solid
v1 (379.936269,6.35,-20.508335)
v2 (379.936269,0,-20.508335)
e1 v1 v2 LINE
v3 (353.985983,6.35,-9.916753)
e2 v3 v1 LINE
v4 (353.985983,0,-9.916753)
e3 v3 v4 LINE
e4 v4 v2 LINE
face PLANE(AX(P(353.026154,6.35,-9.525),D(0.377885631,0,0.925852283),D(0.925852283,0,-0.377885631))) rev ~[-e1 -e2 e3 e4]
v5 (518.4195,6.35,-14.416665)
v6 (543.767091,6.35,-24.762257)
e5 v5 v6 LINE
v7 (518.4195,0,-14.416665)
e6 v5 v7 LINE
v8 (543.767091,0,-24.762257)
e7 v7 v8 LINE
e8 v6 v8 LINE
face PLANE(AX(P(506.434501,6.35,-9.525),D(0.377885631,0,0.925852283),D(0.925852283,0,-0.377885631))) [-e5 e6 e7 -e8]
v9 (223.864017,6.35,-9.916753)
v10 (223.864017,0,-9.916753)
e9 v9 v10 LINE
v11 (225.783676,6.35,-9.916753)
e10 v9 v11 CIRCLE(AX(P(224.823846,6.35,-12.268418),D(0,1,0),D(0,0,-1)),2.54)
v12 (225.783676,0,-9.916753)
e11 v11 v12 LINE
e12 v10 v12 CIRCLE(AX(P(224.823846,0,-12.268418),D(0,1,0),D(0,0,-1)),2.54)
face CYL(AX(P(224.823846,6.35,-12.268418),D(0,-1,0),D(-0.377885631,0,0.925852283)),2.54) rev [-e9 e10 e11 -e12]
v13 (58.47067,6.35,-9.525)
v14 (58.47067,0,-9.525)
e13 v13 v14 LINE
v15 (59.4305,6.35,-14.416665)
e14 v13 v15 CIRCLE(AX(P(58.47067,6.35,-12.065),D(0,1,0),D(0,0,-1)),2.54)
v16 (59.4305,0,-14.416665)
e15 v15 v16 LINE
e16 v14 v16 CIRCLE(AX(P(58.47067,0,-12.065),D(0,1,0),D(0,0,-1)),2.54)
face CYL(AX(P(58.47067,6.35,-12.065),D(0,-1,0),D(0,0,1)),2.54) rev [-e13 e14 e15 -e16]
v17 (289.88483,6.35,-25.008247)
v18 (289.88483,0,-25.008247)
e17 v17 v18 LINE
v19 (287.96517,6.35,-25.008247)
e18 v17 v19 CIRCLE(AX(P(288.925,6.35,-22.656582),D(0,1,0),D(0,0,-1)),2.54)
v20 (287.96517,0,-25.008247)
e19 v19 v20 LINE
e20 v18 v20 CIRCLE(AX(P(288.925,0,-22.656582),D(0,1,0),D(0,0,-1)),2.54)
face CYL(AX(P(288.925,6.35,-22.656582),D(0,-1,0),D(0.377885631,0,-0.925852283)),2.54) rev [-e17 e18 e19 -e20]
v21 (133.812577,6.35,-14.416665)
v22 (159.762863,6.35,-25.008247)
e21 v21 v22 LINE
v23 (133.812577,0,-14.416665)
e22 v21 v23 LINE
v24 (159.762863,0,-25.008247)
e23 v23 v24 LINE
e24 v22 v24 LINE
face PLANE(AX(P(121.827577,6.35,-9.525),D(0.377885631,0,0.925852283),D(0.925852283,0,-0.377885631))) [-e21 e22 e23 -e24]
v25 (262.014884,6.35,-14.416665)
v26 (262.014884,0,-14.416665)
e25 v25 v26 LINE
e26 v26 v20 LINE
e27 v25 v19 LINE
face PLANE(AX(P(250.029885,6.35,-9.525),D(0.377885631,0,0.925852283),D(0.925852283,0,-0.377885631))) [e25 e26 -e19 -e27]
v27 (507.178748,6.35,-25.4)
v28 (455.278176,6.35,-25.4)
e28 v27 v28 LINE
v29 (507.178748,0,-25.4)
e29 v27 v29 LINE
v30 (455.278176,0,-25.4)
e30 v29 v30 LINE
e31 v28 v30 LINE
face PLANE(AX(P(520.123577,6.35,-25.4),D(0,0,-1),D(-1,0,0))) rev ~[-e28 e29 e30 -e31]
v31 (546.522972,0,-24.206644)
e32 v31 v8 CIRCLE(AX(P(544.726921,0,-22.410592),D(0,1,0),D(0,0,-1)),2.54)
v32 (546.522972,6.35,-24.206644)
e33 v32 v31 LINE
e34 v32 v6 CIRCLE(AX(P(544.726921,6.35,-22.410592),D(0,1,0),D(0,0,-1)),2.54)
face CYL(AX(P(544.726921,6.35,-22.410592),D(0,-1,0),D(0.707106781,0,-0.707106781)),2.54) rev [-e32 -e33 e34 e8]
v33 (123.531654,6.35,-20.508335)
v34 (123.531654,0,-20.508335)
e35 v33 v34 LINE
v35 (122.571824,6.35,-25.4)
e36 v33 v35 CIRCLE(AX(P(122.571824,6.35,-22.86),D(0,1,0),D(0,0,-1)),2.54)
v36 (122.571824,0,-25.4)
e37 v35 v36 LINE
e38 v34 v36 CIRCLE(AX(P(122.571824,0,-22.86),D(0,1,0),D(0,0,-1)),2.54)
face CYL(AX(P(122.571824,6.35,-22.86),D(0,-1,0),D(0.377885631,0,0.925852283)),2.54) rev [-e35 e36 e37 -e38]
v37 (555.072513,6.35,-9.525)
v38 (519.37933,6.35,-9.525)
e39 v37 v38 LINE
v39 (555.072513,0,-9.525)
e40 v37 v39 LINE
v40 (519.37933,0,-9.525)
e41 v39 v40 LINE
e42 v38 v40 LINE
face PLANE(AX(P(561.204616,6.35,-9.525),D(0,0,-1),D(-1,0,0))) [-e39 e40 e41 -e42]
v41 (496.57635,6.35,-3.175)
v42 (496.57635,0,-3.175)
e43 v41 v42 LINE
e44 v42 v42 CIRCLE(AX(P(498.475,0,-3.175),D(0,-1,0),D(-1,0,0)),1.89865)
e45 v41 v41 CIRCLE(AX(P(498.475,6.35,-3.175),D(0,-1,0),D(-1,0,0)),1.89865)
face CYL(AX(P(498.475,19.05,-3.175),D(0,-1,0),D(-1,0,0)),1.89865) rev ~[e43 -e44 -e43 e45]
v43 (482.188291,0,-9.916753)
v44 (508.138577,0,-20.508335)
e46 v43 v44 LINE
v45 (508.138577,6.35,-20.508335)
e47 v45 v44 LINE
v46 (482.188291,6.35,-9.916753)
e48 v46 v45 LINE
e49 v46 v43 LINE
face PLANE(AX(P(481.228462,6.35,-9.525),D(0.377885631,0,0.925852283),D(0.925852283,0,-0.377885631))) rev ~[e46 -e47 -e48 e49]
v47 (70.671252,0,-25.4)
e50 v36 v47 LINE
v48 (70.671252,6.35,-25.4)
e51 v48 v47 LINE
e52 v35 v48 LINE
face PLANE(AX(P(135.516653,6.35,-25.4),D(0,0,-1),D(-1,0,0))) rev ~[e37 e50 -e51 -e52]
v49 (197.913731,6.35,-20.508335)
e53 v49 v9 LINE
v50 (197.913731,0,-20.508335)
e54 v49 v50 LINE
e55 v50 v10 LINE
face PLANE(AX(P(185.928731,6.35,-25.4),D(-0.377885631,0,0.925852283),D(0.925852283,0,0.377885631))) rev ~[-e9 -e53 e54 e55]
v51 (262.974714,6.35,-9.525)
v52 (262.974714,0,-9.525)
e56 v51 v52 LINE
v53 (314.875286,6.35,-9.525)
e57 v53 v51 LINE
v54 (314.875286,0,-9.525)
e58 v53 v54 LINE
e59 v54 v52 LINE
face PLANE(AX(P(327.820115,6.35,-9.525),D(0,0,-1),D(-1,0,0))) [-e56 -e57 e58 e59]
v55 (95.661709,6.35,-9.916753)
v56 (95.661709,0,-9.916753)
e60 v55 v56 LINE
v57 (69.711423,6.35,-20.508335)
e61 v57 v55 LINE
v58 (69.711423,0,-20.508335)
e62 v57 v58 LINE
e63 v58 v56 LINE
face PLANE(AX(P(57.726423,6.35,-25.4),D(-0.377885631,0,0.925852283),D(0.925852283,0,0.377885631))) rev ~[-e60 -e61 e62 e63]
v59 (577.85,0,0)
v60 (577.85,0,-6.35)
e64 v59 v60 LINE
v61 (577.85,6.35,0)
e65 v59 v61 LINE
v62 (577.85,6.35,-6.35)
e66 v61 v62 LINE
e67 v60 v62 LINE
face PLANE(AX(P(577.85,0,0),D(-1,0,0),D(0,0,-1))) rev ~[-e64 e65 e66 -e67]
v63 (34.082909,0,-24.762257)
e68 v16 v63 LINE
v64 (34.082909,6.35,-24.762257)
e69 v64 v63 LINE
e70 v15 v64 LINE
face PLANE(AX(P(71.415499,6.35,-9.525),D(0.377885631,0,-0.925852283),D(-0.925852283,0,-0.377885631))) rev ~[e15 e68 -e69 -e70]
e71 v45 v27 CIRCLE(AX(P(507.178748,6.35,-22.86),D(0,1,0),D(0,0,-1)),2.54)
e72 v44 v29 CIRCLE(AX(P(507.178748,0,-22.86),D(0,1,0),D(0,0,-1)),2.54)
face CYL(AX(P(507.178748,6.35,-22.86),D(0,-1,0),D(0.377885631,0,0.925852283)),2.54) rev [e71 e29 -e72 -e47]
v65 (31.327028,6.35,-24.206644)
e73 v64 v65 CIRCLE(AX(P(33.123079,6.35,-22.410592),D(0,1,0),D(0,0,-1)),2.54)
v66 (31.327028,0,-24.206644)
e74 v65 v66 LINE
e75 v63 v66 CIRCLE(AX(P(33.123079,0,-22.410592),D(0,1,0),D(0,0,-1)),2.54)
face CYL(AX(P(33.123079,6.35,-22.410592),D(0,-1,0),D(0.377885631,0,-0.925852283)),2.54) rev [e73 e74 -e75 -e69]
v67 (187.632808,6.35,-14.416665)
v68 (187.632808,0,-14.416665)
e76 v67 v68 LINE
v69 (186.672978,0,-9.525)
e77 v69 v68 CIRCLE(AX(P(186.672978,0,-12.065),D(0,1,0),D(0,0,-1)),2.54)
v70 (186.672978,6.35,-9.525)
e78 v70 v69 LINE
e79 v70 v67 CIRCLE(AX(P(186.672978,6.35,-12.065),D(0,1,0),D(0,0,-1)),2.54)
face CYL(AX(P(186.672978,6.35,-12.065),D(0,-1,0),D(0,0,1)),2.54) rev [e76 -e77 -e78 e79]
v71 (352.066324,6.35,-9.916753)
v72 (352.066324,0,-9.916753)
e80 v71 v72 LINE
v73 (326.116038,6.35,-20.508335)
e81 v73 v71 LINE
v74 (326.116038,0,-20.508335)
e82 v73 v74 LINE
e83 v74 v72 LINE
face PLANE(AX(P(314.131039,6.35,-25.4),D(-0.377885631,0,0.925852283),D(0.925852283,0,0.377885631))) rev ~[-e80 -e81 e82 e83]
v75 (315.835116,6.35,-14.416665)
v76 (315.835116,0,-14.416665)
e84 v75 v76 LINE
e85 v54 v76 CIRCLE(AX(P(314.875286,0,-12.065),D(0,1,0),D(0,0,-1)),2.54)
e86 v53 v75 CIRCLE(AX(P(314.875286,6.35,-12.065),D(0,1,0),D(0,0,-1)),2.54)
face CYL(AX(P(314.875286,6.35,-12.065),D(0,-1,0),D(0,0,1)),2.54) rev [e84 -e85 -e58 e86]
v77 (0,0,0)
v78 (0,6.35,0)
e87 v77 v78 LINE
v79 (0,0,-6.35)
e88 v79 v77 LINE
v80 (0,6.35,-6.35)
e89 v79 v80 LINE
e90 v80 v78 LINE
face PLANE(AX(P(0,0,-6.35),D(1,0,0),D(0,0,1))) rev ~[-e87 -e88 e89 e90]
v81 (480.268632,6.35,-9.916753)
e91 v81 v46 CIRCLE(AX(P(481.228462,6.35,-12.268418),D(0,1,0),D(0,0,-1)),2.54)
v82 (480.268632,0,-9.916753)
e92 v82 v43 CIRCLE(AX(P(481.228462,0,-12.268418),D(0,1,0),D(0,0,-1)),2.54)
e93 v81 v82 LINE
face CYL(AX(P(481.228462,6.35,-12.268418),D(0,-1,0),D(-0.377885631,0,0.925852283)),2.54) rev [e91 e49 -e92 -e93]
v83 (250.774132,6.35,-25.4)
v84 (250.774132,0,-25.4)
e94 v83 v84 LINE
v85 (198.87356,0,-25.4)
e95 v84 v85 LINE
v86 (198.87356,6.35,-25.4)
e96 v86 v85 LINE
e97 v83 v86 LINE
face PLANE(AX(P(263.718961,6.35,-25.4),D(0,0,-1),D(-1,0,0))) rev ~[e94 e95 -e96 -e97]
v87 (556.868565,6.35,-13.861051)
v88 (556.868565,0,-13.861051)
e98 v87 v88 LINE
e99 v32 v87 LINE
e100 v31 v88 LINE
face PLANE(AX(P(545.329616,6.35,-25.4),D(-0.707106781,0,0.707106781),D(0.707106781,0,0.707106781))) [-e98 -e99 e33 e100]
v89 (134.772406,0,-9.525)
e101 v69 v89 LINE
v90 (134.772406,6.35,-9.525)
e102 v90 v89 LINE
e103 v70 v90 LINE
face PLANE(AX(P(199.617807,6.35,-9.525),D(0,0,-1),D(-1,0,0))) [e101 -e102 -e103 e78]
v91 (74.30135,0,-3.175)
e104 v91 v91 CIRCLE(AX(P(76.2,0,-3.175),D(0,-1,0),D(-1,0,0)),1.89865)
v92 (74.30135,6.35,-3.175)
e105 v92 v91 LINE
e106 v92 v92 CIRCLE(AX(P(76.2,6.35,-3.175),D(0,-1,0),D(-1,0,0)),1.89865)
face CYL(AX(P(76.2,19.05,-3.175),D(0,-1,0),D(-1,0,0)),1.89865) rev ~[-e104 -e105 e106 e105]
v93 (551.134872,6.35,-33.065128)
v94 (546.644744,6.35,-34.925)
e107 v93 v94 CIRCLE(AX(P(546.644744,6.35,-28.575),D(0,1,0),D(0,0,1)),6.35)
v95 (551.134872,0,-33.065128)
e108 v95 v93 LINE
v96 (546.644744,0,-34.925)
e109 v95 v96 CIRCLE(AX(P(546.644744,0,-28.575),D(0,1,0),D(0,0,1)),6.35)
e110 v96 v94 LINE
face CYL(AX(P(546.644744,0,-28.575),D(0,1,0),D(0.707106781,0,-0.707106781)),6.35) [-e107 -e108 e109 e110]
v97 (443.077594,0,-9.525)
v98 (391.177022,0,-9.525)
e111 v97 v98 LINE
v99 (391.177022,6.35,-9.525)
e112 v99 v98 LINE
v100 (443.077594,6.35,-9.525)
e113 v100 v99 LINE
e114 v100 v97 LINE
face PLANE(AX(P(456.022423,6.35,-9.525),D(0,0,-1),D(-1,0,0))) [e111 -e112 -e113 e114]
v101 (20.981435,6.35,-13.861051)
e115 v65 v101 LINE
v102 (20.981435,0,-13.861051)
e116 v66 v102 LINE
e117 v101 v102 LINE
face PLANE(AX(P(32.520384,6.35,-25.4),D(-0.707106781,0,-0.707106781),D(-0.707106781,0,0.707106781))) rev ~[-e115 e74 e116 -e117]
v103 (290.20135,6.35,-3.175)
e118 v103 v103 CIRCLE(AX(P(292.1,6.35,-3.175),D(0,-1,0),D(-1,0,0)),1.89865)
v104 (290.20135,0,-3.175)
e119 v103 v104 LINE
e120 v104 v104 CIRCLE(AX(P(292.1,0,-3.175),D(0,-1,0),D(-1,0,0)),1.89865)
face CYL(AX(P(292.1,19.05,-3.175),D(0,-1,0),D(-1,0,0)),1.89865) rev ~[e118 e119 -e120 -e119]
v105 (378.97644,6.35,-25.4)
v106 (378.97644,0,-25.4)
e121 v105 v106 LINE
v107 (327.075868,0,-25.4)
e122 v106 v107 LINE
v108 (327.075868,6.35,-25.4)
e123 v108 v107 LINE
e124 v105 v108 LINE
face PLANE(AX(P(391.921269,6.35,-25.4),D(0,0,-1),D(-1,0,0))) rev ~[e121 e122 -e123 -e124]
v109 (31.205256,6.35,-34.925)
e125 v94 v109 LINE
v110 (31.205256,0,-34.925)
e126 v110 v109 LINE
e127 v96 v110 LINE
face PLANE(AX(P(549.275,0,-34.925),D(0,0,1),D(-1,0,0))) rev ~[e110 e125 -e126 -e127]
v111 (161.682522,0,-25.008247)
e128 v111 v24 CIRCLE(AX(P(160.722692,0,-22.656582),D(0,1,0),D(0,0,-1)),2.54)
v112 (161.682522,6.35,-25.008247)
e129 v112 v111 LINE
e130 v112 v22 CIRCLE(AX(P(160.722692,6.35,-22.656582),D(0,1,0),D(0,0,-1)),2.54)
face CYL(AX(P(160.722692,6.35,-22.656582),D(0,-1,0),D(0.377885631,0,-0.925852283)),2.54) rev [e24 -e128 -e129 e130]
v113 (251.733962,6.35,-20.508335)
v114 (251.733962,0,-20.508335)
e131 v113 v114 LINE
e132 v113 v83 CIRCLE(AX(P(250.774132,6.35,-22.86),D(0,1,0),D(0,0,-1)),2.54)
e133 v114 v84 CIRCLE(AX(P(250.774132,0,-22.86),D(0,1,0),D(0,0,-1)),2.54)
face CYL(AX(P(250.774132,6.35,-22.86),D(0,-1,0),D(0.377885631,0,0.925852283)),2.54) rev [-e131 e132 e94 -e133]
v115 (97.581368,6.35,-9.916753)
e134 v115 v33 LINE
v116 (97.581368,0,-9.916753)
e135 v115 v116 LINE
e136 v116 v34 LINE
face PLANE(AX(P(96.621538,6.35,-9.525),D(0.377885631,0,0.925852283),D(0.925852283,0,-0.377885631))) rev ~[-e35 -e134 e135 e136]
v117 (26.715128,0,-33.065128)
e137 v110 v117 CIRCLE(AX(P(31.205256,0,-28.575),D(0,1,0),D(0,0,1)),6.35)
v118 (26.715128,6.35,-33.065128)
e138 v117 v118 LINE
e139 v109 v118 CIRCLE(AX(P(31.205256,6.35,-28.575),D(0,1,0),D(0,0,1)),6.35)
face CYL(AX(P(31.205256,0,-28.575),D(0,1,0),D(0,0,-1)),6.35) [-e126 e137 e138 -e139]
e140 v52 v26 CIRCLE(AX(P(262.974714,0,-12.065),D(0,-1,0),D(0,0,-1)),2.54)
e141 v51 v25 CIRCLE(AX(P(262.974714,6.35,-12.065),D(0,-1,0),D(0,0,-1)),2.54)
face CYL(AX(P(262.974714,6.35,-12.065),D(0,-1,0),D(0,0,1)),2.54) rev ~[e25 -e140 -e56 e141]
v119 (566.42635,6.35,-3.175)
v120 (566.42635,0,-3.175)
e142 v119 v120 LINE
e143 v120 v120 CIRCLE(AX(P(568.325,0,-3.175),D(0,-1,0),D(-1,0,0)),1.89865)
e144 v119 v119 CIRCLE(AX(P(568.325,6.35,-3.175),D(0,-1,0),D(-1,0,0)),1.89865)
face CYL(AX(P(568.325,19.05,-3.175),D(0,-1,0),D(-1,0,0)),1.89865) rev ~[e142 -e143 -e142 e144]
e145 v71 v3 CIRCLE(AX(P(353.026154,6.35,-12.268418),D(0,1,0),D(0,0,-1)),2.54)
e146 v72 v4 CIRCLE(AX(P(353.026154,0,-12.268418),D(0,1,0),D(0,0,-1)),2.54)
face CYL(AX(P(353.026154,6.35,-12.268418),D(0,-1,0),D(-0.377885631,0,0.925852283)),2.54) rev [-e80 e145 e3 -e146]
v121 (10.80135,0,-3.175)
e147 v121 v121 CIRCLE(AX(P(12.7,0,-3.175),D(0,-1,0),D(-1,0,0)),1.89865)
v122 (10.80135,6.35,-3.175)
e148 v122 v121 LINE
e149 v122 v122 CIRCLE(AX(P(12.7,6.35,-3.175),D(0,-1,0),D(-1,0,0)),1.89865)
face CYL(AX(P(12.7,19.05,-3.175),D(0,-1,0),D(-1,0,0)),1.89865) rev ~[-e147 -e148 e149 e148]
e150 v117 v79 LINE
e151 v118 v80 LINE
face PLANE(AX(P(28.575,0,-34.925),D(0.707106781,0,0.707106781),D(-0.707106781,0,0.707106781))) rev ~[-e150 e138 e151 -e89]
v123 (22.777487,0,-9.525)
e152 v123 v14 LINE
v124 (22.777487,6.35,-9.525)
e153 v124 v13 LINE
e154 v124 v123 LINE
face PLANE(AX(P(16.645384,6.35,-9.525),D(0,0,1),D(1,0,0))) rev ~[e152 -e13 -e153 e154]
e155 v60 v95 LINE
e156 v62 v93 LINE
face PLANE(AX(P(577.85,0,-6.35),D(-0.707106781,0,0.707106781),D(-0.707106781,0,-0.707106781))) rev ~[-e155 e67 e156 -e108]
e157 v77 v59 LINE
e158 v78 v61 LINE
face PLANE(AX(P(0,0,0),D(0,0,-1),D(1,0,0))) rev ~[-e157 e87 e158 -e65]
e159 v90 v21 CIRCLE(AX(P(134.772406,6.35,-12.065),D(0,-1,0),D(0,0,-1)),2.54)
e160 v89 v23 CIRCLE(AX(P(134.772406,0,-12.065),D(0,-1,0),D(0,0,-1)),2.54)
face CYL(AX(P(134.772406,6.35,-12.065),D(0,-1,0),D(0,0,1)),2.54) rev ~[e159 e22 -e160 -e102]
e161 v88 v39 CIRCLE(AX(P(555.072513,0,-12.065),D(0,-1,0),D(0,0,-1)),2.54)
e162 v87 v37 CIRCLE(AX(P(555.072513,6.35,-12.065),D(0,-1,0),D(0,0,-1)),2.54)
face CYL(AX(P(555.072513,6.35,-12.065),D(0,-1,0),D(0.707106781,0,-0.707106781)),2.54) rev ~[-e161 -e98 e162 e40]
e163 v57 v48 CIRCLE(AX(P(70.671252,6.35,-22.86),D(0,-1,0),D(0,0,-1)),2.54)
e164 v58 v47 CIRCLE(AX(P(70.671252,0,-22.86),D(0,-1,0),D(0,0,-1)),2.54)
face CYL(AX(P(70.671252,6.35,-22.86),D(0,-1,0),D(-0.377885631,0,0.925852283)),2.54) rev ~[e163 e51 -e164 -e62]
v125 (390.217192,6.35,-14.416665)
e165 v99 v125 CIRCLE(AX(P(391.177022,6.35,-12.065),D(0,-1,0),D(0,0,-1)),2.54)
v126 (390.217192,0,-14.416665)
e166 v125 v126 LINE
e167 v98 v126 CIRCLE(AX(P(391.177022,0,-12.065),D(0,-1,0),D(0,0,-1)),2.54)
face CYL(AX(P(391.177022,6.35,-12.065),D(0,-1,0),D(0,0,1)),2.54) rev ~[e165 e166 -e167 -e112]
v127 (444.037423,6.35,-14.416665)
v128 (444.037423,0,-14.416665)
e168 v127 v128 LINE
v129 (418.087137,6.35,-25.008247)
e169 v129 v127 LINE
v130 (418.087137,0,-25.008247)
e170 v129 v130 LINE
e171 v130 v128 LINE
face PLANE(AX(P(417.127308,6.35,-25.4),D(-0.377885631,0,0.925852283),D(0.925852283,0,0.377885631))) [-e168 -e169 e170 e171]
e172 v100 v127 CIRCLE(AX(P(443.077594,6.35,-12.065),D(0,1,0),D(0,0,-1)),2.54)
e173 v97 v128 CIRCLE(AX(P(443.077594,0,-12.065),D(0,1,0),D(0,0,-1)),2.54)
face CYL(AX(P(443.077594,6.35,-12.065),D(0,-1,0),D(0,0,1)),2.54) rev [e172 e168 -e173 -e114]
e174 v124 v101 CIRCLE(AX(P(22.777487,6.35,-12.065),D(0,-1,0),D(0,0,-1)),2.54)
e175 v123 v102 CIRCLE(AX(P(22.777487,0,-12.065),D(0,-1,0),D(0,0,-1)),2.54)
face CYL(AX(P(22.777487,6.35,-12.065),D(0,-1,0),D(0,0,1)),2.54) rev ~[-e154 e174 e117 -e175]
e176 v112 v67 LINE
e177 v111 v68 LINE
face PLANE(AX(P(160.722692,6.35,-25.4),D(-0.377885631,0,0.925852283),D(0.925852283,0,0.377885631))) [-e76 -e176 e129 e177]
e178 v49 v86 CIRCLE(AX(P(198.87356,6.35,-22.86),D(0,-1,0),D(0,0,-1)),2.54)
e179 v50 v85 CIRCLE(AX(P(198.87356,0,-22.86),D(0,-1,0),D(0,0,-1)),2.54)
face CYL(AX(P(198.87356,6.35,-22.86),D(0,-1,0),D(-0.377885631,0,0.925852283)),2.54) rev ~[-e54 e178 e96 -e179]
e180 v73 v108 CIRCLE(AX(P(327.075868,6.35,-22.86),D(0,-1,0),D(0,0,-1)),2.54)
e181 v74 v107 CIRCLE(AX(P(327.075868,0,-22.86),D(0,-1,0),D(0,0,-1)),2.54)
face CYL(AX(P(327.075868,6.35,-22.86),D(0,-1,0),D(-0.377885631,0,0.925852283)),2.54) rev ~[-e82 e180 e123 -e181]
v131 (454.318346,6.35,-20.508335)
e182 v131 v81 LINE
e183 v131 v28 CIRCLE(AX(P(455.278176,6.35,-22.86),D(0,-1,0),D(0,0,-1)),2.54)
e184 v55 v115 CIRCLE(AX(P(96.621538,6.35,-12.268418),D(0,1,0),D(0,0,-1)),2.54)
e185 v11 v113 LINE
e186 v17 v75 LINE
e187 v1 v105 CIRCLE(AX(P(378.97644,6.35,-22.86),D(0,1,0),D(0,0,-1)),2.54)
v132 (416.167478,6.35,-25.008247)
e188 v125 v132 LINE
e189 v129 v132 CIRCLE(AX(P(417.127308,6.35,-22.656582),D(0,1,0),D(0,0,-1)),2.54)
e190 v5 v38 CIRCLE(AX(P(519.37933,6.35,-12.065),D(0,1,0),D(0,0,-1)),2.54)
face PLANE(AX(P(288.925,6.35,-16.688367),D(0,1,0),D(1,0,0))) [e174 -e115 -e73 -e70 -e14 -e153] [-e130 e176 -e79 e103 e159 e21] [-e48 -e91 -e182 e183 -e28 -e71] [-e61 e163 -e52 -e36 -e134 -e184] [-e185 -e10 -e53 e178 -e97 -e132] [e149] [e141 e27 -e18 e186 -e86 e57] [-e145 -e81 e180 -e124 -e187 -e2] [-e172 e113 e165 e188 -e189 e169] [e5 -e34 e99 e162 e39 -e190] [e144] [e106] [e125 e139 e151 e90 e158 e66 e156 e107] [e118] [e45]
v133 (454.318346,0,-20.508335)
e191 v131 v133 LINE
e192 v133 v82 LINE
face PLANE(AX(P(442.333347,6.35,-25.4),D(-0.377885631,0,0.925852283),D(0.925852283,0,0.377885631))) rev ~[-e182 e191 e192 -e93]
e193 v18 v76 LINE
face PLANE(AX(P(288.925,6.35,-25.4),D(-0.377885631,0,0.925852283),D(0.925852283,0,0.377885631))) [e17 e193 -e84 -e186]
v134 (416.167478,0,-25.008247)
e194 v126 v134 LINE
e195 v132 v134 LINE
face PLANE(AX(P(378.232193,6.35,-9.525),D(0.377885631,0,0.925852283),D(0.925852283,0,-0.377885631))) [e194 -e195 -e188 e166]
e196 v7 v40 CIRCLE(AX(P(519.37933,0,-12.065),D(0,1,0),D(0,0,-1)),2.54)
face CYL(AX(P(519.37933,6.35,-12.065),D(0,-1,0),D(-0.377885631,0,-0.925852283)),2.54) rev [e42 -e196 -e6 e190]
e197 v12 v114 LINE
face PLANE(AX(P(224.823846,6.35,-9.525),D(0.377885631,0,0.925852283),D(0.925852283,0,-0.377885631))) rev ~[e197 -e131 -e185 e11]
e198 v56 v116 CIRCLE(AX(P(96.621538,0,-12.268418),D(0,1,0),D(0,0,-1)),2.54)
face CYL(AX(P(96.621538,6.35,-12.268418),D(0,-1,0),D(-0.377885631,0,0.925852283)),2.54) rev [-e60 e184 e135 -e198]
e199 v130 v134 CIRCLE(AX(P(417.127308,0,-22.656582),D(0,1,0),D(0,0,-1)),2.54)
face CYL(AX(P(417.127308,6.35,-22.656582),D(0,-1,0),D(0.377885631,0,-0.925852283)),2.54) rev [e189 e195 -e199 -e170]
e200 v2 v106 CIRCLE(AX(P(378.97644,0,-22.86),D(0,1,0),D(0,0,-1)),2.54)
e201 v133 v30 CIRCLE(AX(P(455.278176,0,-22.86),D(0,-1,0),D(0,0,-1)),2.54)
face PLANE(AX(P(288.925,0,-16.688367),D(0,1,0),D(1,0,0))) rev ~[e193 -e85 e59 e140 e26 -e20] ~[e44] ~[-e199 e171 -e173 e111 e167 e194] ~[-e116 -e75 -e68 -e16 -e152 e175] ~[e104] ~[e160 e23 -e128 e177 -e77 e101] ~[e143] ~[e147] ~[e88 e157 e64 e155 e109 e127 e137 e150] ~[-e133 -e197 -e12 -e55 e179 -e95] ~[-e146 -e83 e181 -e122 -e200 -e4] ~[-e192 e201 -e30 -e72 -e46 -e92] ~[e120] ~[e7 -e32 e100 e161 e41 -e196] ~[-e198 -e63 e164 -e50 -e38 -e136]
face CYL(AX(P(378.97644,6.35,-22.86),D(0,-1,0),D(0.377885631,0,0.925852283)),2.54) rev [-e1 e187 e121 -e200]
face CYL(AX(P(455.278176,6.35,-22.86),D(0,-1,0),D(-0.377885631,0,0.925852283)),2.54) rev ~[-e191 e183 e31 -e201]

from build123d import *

# Parameters (mm, degrees)
BOSS_EXTRUDE1_DEPTH       = 6.35
FILLET1_R                 = 6.35
CUT_EXTRUDE1_DEPTH        = 6.35
FILLET2_R                 = 2.54
F_6_CLEARANCE_HOLE1_D     = 3.7973
F_6_CLEARANCE_HOLE1_DEPTH = 12.7
F_6_CLEARANCE_HOLE1_TIP   = 1.140824014


with BuildPart() as part:
    # Sketch1 → Boss-Extrude1 (new body)
    with BuildSketch(Plane(origin=(0, 0, 0), x_dir=(1, 0, 0), z_dir=(0, 1, 0))):
        Polygon((0, 6.35), (0, 0), (577.85, 0), (577.85, 6.35), (549.275, 34.925), (28.575, 34.925), align=None)
    extrude(amount=BOSS_EXTRUDE1_DEPTH)

    # Fillet1
    fillet1_edges = [part.edges().sort_by_distance(p)[0] for p in [
        (549.275, 3.175, -34.925),
        (28.575, 3.175, -34.925),
    ]]
    fillet(fillet1_edges, radius=FILLET1_R)

    # Sketch2 → Cut-Extrude1 (cut)
    with BuildSketch(Plane(origin=(0, 6.35, 0), x_dir=(1, 0, 0), z_dir=(0, 1, 0))):
        Polygon((16.645384182, 9.525), (71.415498994, 9.525), (32.520384182, 25.4), align=None)
        Polygon((57.726423324, 25.4), (96.621538136, 9.525), (135.516652948, 25.4), align=None)
        Polygon((121.827577279, 9.525), (160.722692091, 25.4), (199.617806903, 9.525), align=None)
        Polygon((185.928731233, 25.4), (224.823846045, 9.525), (263.718960858, 25.4), align=None)
        Polygon((250.029885188, 9.525), (288.925, 25.4), (327.820114812, 9.525), align=None)
        Polygon((314.131039142, 25.4), (353.026153955, 9.525), (391.921268767, 25.4), align=None)
        Polygon((378.232193097, 9.525), (417.127307909, 25.4), (456.022422721, 9.525), align=None)
        Polygon((442.333347052, 25.4), (481.228461864, 9.525), (520.123576676, 25.4), align=None)
        Polygon((561.204615818, 9.525), (506.434501006, 9.525), (545.329615818, 25.4), align=None)
    extrude(amount=-CUT_EXTRUDE1_DEPTH, mode=Mode.SUBTRACT)

    # Fillet2
    fillet2_edges = [part.edges().sort_by_distance(p)[0] for p in [
        (545.329615818, 3.175, -25.4),
        (442.333347052, 3.175, -25.4),
        (391.921268767, 3.175, -25.4),
        (417.127307909, 3.175, -25.4),
        (288.925, 3.175, -25.4),
        (314.131039142, 3.175, -25.4),
        (185.928731233, 3.175, -25.4),
        (263.718960858, 3.175, -25.4),
        (520.123576676, 3.175, -25.4),
        (481.228461864, 3.175, -9.525),
        (353.026153955, 3.175, -9.525),
        (224.823846045, 3.175, -9.525),
        (250.029885188, 3.175, -9.525),
        (378.232193097, 3.175, -9.525),
        (506.434501006, 3.175, -9.525),
        (561.204615818, 3.175, -9.525),
        (456.022422721, 3.175, -9.525),
        (327.820114812, 3.175, -9.525),
        (199.617806903, 3.175, -9.525),
        (121.827577279, 3.175, -9.525),
        (160.722692091, 3.175, -25.4),
        (135.516652948, 3.175, -25.4),
        (57.726423324, 3.175, -25.4),
        (96.621538136, 3.175, -9.525),
        (71.415498994, 3.175, -9.525),
        (32.520384182, 3.175, -25.4),
        (16.645384182, 3.175, -9.525),
    ]]
    fillet(fillet2_edges, radius=FILLET2_R)

    # #6 Clearance Hole1
    with Locations(Plane(origin=(0, 6.35, 0), x_dir=(1, 0, 0), z_dir=(0, 1, 0))):
        with Locations((12.7, 3.175), (76.2, 3.175), (292.1, 3.175), (568.325, 3.175), (498.475, 3.175)):
            Hole(F_6_CLEARANCE_HOLE1_D / 2, depth=F_6_CLEARANCE_HOLE1_DEPTH)
            with Locations((0, 0, -(F_6_CLEARANCE_HOLE1_DEPTH + F_6_CLEARANCE_HOLE1_TIP / 2))):  # 118° drill point
                Cone(0, F_6_CLEARANCE_HOLE1_D / 2, F_6_CLEARANCE_HOLE1_TIP, mode=Mode.SUBTRACT)


solid = part.part
